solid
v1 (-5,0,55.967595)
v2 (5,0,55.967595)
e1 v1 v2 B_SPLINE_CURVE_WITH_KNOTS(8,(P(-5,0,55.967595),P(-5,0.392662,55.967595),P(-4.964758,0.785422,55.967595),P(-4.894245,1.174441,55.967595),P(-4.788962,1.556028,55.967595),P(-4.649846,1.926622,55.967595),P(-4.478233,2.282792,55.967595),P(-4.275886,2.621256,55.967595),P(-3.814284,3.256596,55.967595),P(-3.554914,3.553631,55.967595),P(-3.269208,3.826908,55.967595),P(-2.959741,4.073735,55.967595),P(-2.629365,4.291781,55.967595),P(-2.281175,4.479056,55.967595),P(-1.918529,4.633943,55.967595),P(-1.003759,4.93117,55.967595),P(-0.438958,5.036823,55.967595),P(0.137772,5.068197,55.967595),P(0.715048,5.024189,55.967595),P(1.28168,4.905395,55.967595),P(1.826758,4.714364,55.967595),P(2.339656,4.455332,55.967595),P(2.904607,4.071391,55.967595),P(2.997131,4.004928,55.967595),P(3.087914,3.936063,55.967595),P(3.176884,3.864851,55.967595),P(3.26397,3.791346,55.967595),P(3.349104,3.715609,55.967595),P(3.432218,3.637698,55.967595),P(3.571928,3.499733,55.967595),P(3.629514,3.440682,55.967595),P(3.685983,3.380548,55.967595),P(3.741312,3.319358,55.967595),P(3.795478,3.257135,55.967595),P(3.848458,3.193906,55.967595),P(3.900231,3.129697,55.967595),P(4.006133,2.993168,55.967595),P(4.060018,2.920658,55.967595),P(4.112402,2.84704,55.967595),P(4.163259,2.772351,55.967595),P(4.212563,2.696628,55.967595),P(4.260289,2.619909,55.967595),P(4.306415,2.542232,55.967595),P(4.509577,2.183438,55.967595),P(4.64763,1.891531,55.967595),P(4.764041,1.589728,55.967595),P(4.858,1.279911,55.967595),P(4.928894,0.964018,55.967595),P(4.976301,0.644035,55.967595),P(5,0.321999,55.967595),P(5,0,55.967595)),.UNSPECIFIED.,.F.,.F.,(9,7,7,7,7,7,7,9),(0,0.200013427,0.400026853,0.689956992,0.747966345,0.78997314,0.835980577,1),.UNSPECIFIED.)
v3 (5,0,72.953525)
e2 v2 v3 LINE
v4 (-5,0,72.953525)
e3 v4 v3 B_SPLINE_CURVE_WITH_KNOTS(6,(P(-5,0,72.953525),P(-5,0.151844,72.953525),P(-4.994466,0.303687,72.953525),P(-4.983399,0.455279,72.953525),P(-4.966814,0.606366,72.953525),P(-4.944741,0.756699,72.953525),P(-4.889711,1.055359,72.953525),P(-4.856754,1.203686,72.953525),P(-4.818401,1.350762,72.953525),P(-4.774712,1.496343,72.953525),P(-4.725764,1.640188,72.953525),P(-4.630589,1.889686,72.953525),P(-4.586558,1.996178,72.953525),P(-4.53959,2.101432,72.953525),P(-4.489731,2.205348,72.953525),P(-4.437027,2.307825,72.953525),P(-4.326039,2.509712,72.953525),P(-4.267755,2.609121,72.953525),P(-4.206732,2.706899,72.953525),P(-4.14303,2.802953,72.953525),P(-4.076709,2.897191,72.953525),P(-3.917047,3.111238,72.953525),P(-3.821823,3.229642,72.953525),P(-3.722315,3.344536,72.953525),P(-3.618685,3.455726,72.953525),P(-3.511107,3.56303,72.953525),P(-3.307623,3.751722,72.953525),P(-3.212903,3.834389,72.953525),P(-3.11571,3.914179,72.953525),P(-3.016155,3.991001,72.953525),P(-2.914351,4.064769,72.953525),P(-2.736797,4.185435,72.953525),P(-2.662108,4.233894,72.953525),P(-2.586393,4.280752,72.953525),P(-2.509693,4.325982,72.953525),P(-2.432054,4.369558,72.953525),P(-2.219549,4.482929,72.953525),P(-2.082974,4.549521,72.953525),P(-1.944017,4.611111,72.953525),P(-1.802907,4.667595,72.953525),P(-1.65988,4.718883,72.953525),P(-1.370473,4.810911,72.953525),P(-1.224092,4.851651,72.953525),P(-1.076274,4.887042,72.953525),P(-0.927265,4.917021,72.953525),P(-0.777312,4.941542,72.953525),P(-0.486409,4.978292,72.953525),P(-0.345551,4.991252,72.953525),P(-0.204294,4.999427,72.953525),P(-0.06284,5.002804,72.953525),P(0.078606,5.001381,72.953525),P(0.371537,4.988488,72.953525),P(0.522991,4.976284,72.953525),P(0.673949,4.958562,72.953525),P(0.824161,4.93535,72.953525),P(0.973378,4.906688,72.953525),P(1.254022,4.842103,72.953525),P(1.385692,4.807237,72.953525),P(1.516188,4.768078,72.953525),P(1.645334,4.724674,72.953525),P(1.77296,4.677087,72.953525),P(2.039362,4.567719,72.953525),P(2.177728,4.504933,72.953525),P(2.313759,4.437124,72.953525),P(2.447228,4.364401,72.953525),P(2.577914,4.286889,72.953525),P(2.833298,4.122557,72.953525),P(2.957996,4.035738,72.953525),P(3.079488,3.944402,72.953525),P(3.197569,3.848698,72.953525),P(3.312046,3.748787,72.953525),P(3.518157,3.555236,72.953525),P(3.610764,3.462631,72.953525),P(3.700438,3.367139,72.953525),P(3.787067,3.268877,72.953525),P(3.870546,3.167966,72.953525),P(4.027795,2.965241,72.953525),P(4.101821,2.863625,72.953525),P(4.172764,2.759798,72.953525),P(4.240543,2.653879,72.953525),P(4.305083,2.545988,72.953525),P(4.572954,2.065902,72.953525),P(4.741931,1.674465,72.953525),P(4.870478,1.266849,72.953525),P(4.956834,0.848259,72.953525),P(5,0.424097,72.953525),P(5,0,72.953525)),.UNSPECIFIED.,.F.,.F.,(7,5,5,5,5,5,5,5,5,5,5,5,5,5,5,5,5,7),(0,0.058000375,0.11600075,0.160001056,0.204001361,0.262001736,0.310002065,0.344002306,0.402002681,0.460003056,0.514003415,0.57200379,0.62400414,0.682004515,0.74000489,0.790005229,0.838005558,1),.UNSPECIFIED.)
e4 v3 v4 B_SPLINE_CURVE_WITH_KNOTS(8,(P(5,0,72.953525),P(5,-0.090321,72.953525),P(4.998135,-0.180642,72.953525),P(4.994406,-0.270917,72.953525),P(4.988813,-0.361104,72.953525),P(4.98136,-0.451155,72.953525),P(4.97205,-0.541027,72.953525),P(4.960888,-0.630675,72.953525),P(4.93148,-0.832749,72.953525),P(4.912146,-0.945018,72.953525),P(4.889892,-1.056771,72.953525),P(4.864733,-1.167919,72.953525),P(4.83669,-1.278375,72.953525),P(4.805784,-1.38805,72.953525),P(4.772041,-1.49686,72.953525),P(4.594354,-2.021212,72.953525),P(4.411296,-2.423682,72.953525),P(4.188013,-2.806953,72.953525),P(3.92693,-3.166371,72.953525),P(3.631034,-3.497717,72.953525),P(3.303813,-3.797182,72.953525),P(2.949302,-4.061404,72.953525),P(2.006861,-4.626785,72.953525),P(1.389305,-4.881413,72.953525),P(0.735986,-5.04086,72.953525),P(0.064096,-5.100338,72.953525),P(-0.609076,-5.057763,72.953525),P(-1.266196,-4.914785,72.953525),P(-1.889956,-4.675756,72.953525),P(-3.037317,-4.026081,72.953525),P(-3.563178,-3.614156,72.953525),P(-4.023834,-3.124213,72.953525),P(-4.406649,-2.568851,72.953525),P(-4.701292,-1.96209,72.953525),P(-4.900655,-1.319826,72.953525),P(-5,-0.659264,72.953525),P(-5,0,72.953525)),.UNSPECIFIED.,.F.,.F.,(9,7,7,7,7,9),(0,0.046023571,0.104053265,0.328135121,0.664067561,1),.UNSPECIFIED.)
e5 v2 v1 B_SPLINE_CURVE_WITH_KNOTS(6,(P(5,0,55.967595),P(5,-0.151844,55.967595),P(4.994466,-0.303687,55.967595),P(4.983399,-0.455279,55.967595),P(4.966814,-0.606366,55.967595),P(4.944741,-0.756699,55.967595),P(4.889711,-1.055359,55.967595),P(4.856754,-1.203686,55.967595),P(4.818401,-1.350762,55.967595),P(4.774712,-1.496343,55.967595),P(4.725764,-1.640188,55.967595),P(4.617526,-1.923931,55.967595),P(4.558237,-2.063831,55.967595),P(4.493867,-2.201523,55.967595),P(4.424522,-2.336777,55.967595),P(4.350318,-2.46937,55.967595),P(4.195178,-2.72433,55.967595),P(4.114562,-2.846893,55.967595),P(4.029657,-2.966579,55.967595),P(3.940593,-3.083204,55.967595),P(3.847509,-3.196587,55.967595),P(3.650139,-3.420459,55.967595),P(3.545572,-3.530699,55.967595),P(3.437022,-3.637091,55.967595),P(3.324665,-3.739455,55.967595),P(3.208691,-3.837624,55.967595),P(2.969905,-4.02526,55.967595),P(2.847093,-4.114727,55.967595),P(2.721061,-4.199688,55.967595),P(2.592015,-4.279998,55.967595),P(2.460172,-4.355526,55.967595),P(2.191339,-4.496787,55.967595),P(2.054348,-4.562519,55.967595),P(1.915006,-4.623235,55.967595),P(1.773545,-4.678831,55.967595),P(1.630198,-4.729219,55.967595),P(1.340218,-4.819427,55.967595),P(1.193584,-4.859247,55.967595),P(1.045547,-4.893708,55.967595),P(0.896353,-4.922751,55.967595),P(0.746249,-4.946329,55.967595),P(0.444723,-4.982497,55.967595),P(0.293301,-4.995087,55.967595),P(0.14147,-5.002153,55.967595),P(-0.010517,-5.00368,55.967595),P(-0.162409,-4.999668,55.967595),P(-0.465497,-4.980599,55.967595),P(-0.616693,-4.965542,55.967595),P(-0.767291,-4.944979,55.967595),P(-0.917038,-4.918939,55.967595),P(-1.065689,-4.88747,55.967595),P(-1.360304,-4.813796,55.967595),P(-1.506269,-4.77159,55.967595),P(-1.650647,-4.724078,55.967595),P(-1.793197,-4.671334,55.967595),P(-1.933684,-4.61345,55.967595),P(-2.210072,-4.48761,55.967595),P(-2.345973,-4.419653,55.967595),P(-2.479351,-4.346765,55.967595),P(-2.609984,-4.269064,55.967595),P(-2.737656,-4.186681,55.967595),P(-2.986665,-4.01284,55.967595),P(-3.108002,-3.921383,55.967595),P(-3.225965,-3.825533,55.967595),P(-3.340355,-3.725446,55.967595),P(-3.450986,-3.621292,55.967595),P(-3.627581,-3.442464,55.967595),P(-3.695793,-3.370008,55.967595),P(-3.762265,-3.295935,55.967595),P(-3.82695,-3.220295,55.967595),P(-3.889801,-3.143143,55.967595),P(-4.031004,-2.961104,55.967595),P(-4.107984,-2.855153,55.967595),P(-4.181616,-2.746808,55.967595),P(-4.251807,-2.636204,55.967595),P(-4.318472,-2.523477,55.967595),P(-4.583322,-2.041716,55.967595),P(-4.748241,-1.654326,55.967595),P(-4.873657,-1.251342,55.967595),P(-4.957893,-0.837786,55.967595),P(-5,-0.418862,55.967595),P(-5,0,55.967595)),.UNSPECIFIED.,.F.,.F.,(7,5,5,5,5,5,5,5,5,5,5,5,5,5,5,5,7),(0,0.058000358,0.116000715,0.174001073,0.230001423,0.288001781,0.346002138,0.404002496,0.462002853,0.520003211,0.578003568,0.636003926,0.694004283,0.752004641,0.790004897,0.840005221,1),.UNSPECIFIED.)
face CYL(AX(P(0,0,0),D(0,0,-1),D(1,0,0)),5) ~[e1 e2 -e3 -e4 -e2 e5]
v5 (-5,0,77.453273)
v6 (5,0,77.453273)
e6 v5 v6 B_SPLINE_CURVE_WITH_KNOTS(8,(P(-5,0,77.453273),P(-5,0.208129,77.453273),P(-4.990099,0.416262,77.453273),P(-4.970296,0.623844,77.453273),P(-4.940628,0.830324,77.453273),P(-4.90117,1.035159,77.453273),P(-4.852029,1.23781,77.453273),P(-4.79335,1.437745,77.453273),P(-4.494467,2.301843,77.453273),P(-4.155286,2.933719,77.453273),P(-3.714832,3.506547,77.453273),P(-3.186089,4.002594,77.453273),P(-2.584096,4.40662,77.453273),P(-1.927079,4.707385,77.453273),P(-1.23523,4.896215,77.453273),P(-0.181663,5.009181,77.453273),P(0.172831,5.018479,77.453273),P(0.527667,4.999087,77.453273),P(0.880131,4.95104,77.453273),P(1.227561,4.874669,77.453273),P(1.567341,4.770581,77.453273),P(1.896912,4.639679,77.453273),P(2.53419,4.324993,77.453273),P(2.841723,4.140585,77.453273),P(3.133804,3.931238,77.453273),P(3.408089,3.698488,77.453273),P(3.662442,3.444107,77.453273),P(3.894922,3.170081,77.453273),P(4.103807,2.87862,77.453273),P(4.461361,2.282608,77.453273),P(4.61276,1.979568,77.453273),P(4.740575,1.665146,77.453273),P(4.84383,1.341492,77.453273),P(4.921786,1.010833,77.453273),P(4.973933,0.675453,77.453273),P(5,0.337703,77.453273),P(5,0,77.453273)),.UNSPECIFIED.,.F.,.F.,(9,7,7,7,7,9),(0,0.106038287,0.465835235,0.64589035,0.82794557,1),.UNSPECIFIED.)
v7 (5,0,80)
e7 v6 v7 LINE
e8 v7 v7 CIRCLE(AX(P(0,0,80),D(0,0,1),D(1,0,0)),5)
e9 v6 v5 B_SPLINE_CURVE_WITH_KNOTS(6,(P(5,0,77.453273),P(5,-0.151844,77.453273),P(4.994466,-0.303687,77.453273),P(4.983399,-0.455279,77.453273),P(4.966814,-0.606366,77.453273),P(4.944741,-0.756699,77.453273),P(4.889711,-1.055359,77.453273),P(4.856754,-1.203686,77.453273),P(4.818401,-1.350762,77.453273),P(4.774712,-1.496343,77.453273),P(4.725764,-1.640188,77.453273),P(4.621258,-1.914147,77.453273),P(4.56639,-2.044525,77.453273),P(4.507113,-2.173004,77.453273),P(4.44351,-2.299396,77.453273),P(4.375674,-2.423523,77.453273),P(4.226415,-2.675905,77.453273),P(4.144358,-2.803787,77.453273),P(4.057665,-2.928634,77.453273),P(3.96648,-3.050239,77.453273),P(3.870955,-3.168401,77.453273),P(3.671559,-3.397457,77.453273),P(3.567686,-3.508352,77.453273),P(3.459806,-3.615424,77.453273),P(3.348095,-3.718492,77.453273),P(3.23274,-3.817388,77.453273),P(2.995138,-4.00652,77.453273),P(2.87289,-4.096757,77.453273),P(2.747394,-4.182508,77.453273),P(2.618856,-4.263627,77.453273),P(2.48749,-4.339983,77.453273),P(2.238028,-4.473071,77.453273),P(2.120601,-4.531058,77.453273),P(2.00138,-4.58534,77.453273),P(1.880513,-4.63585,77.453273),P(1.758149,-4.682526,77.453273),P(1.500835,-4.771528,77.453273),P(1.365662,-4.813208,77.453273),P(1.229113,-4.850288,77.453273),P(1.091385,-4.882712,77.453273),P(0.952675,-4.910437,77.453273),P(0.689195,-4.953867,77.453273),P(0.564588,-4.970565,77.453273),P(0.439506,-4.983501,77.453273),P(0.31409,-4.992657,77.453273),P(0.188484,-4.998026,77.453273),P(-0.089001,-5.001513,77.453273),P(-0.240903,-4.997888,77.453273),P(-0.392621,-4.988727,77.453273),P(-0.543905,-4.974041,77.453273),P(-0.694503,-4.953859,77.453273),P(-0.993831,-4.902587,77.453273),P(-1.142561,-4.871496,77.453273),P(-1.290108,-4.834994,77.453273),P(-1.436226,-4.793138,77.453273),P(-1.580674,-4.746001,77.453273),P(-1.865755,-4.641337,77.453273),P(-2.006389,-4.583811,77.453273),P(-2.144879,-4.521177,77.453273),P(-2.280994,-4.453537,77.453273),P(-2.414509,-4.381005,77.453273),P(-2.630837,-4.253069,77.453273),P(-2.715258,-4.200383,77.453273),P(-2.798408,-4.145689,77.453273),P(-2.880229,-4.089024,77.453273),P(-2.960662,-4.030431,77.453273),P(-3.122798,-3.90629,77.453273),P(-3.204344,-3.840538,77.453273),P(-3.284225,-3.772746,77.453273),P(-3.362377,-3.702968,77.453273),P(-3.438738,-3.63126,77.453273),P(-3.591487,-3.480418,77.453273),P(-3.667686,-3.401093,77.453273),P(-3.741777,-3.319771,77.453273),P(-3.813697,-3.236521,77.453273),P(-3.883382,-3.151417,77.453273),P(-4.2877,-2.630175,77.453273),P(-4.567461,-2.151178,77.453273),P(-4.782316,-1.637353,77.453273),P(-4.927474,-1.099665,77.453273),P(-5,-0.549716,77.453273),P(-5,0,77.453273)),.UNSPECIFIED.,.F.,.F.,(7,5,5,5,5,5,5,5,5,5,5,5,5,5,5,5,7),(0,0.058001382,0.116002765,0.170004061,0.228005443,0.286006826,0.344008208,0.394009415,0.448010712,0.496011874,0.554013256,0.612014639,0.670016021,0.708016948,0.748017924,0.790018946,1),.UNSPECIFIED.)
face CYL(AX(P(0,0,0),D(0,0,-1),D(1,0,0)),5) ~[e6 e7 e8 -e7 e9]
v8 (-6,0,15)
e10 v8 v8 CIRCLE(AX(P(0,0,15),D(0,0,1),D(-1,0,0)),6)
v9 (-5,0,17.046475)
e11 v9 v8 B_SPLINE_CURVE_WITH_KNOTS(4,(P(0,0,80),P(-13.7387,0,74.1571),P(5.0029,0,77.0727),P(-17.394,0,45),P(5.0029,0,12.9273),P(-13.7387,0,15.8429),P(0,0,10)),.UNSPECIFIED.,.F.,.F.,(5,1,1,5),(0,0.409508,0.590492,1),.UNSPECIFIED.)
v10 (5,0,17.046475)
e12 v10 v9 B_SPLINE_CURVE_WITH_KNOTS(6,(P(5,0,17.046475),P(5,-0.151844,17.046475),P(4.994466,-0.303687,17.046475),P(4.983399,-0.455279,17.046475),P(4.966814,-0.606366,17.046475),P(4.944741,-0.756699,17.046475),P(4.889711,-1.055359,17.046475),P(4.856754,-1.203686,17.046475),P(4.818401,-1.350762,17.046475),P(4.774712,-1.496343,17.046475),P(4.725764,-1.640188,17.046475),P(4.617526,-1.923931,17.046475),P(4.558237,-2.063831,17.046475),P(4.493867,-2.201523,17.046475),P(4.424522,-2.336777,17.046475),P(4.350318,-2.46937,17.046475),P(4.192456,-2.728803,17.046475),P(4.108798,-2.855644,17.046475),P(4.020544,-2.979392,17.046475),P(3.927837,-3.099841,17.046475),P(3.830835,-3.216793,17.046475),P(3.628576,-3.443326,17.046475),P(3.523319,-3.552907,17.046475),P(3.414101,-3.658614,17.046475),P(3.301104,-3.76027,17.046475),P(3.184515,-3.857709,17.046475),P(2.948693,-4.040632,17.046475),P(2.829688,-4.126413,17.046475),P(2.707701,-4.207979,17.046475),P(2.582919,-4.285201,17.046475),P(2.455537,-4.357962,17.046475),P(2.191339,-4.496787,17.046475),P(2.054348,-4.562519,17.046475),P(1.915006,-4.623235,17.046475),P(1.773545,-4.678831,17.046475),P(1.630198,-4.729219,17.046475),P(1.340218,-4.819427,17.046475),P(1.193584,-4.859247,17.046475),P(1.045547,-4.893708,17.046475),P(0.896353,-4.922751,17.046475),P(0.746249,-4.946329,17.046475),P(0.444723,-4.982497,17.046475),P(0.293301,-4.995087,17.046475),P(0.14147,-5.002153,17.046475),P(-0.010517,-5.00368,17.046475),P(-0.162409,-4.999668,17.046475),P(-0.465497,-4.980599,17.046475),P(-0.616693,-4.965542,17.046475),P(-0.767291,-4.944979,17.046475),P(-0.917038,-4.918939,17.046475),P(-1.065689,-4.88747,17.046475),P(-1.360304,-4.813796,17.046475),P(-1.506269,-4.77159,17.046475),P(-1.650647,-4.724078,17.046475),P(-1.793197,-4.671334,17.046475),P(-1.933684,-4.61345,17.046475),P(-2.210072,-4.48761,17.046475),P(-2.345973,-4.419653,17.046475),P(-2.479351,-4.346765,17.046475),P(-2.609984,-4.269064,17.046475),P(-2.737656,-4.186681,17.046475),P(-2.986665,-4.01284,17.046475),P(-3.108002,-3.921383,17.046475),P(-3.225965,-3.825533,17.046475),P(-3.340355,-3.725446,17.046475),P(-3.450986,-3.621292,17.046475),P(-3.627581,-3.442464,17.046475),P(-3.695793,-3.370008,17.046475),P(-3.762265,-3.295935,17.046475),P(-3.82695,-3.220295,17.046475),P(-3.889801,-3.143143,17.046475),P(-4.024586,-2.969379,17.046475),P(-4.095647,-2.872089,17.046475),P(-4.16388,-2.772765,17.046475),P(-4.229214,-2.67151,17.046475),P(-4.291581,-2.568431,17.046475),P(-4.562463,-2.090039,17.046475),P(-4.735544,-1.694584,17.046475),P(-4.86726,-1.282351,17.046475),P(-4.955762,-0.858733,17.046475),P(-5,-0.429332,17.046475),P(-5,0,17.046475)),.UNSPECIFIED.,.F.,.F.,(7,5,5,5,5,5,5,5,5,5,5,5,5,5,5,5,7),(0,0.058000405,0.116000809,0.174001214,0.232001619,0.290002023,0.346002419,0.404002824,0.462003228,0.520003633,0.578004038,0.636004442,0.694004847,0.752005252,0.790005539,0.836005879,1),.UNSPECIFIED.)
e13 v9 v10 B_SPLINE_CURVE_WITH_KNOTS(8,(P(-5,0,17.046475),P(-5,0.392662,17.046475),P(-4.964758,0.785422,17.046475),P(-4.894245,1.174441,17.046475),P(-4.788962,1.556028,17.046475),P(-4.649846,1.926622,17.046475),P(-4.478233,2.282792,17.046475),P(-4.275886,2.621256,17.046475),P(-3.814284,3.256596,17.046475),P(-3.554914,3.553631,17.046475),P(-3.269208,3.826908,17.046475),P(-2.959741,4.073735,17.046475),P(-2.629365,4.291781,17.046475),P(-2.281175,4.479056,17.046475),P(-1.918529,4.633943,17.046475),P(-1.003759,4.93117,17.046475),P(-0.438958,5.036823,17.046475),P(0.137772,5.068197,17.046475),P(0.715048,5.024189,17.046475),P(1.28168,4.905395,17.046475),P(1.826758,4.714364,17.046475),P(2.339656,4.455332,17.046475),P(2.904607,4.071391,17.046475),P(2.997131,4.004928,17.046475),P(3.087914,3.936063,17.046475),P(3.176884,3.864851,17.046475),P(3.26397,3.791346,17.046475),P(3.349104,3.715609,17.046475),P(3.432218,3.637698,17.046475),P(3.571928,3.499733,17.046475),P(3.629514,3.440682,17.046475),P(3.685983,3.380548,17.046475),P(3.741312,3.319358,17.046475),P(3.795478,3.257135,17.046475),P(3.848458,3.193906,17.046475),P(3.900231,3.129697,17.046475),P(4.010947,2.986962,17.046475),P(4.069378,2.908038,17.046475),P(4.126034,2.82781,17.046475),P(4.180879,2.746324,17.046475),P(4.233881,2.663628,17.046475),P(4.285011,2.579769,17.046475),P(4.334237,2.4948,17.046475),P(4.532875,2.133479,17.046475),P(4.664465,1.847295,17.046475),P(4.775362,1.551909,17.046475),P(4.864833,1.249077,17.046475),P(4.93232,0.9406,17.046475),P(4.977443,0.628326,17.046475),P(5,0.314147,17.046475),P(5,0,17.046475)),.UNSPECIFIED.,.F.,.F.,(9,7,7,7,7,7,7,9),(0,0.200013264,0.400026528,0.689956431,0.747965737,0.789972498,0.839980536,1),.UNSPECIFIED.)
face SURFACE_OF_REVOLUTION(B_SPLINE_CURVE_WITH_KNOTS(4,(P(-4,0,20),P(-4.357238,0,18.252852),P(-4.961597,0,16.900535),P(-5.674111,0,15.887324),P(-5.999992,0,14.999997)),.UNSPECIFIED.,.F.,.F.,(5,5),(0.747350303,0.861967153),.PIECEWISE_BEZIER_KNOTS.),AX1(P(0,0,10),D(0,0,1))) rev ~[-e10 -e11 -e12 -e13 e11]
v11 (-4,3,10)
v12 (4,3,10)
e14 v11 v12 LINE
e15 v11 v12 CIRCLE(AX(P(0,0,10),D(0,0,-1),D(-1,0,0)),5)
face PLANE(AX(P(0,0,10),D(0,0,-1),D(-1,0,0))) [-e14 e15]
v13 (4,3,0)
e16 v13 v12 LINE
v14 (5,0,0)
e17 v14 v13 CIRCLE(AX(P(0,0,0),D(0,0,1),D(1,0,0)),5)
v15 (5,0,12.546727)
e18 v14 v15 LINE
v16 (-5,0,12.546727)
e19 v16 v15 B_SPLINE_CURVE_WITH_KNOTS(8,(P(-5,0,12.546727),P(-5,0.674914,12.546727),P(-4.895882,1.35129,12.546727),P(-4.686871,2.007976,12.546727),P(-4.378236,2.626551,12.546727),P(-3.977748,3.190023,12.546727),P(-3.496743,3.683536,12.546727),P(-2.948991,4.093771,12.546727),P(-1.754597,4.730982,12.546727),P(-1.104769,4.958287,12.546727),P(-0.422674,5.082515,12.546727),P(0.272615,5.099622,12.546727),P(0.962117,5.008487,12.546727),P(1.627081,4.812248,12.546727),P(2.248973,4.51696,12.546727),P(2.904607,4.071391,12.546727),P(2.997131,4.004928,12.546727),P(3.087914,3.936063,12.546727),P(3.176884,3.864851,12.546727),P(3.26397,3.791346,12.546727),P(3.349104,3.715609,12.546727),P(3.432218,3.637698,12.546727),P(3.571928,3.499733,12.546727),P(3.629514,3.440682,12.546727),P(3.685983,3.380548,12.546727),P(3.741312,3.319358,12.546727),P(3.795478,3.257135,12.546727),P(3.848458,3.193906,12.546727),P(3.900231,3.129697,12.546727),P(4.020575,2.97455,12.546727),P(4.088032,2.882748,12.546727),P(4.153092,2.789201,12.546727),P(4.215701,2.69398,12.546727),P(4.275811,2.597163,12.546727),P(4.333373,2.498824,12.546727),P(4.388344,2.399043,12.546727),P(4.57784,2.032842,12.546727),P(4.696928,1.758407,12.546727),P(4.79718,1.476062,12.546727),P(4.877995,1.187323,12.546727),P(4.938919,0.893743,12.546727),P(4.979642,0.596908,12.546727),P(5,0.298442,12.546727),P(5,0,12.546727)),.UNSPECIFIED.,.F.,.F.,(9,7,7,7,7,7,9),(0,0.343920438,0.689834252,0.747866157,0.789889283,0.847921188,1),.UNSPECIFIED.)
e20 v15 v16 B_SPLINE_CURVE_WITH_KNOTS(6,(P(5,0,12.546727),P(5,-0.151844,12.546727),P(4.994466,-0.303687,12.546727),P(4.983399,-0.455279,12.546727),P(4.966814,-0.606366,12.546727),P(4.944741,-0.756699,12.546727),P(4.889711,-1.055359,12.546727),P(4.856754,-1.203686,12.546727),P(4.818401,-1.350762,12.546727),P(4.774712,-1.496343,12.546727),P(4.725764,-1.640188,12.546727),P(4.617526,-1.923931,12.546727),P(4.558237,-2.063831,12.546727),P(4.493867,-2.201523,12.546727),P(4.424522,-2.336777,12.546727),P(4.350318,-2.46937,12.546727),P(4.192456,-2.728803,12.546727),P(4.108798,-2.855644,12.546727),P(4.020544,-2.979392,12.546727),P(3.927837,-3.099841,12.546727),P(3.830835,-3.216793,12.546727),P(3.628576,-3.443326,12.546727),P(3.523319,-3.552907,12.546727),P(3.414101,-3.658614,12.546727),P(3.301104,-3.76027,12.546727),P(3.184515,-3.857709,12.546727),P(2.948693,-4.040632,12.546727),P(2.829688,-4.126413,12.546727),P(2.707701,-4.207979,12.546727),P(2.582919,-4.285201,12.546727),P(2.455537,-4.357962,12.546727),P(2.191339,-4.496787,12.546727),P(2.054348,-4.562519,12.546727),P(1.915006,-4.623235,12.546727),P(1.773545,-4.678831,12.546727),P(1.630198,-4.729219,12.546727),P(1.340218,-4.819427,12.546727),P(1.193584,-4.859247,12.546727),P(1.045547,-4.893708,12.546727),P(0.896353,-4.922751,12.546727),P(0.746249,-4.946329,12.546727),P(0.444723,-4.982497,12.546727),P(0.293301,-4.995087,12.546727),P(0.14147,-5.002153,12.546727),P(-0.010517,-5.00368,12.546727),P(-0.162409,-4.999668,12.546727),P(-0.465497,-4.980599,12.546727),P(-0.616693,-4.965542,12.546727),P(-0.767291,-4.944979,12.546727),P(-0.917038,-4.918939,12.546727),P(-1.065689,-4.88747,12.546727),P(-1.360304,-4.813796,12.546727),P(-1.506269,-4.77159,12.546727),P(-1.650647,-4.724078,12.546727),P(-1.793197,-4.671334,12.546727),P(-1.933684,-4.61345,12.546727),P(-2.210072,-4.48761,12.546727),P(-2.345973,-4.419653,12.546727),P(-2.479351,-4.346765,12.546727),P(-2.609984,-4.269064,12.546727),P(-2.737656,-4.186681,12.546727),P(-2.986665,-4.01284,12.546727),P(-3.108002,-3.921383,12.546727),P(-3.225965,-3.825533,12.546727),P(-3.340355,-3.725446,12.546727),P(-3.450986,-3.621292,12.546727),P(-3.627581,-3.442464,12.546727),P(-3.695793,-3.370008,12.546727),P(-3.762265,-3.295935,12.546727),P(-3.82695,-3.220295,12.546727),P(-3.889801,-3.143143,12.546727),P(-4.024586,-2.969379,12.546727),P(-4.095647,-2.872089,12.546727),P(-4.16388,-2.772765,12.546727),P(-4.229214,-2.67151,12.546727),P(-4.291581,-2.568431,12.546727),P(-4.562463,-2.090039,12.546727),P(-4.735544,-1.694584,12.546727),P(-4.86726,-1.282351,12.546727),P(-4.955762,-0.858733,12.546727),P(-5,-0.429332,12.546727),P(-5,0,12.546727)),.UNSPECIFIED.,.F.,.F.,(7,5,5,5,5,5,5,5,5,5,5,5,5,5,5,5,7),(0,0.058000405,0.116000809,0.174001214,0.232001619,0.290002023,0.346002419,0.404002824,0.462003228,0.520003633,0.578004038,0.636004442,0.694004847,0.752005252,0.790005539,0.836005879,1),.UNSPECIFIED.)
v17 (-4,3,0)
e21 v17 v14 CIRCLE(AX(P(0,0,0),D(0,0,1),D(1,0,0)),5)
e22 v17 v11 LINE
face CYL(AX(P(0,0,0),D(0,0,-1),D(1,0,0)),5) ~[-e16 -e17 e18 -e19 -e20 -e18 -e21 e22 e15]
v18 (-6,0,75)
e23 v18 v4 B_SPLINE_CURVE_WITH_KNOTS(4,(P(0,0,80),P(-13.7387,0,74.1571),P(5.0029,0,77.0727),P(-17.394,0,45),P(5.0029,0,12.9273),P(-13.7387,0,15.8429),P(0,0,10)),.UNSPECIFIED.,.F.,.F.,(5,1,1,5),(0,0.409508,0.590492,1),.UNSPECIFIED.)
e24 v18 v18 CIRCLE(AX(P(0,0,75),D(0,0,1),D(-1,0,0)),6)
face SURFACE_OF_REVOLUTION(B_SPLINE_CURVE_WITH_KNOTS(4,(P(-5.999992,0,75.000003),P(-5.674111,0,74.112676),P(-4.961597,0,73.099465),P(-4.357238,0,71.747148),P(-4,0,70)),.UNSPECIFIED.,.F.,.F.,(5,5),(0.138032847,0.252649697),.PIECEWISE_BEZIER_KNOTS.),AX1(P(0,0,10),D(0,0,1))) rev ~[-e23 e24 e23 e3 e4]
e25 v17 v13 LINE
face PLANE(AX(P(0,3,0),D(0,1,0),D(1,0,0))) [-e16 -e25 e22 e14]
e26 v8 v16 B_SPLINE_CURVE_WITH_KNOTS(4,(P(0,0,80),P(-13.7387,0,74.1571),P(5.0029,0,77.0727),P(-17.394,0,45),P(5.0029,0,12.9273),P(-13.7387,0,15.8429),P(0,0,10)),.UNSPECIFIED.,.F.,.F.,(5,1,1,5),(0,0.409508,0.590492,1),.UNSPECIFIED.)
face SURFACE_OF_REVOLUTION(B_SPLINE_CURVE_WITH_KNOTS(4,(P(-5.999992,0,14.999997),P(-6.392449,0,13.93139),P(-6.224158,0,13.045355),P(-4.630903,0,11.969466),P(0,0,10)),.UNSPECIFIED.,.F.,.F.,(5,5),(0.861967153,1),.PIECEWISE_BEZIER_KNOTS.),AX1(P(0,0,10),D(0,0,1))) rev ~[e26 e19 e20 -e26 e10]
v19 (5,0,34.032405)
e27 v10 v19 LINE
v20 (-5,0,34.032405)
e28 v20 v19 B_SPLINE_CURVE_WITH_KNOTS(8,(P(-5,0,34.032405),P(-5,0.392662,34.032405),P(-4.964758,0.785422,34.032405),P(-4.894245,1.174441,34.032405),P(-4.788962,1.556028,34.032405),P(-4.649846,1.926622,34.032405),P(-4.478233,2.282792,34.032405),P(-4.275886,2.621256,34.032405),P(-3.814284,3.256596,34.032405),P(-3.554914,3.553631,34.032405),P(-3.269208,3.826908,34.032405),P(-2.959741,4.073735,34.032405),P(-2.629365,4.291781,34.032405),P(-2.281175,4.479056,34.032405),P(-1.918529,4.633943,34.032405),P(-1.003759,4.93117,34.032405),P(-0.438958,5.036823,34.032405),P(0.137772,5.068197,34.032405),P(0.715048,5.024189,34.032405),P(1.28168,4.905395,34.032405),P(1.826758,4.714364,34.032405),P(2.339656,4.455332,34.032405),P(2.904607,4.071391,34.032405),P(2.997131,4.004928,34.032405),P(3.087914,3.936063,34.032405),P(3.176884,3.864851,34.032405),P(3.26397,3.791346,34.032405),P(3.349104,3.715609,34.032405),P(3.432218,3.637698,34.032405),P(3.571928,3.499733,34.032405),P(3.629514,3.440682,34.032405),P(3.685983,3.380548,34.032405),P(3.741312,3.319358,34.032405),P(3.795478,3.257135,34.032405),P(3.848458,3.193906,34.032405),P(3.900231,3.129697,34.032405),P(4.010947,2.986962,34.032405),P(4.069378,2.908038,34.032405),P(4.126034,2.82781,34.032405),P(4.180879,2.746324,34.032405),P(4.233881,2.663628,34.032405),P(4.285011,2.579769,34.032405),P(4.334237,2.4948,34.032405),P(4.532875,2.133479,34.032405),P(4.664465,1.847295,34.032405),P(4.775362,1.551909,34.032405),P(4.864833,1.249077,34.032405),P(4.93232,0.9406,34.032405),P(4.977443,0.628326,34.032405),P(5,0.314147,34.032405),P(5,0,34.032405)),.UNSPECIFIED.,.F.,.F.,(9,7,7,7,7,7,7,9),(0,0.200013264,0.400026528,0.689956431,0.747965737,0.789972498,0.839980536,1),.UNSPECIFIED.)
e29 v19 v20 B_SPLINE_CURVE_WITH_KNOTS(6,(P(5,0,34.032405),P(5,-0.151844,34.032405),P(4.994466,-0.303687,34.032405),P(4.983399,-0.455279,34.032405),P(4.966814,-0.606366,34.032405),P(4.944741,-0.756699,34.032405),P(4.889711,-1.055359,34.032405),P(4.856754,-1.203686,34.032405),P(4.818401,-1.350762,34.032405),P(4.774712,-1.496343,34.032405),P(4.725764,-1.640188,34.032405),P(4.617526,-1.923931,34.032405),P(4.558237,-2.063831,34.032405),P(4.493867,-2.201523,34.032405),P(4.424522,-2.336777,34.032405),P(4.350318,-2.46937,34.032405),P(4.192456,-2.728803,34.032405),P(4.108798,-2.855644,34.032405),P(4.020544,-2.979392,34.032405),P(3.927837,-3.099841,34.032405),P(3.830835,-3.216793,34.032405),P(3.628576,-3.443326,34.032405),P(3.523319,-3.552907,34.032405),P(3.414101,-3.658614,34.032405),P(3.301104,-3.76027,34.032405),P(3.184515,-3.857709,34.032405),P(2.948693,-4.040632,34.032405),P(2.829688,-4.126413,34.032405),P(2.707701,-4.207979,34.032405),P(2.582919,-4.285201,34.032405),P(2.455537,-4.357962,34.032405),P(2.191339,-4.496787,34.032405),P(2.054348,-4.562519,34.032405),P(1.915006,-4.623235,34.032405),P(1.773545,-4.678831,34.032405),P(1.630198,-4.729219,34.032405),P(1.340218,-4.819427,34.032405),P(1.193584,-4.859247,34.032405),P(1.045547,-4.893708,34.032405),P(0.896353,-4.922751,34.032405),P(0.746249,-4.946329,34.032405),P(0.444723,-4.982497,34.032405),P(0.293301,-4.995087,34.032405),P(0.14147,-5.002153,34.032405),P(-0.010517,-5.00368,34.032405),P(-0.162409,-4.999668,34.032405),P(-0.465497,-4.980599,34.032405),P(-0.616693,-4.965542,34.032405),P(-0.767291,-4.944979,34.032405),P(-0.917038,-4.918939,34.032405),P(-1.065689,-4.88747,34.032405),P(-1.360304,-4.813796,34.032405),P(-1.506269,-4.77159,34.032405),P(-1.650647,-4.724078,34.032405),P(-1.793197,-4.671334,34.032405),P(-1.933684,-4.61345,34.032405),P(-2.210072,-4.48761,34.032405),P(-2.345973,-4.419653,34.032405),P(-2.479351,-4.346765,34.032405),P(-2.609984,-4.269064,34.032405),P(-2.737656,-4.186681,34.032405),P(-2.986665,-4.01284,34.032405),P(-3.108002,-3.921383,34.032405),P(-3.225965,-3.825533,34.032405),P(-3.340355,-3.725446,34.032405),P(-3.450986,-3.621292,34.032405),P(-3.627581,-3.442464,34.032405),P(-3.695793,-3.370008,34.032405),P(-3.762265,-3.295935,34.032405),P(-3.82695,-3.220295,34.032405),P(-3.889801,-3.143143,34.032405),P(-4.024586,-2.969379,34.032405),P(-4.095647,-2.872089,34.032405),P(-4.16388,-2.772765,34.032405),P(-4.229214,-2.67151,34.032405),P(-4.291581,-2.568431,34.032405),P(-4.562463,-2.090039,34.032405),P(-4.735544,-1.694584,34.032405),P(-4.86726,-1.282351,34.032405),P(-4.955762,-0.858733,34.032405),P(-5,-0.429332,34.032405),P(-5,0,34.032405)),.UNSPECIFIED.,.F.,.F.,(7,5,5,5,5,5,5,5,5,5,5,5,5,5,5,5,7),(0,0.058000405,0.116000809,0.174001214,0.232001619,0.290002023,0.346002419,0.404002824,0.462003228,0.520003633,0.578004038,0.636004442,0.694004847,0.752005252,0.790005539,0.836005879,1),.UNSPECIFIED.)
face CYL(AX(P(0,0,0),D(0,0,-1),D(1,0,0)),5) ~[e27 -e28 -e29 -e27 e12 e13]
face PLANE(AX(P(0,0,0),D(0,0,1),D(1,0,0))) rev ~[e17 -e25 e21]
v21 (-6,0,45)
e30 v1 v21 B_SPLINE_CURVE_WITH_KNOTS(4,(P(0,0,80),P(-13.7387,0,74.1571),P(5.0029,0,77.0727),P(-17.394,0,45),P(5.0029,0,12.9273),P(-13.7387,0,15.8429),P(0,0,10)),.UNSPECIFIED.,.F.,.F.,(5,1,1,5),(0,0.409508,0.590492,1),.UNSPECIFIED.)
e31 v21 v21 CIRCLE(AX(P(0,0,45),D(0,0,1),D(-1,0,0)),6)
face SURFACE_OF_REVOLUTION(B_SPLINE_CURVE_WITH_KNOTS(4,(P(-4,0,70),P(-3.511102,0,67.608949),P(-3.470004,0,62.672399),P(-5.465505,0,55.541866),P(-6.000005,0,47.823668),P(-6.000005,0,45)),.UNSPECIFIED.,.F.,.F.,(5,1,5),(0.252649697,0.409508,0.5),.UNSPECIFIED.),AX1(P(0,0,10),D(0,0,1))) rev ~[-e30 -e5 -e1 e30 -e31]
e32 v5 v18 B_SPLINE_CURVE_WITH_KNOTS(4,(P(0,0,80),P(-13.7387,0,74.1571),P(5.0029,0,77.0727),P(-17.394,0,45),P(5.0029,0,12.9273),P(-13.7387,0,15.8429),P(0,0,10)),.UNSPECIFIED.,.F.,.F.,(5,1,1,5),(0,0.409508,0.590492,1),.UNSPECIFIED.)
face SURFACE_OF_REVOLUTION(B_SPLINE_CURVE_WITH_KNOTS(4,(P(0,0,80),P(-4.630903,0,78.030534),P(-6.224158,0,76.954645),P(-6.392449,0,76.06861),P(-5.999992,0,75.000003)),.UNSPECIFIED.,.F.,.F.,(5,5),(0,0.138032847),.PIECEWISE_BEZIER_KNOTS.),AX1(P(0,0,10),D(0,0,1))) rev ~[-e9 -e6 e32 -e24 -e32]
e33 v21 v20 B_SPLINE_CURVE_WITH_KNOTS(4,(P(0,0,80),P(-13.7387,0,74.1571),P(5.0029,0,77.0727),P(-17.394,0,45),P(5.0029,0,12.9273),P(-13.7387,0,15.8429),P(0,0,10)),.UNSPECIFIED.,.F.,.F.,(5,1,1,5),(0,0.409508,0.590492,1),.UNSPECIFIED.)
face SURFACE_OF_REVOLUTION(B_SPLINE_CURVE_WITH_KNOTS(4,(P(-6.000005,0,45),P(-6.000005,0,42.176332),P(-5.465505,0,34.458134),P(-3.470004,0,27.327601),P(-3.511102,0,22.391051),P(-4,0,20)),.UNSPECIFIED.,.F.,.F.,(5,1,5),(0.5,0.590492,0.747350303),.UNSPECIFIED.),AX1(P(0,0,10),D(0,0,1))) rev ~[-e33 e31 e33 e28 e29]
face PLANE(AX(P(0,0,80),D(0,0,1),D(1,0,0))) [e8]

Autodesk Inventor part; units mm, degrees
ref_plane "YZ Plane" through (0, 0, 0) normal (1, 0, 0) x (0, 1, 0)
ref_plane "XY Plane" through (0, 0, 0) normal (0, 0, 1) x (1, 0, 0)
sketch "Эскиз1" plane through (0, 0, 0) normal (0, 0, 1) x (1, 0, 0)
  circle A0 centre (0, 0) radius 5
  dimension "d0" = 10
extrude "Выдавливание1" add sketch "Эскиз1" along normal blind 80
sketch "Эскиз2" plane through (0, 0, 0) normal (0, 0, -1) x (-1, 0, 0)
  line L0 (0, 0) -> (0, 3)
  line L1 (0, 3) -> (-4, 3)
  circle A0 centre (0, 0) radius 5 projected
  line L2 (4, 3) -> (0, 3)
extrude "Выдавливание2" cut sketch "Эскиз2" against normal blind 10 contours L1 A0 L2 picked at (-2.4012, 3.2796)
ref_plane "РабПлоскость1" through (0, 0, 0) normal (0, 1, 0) x (-1, 0, 0)
sketch "Эскиз3" plane through (0, 0, 0) normal (0, 1, 0) x (-1, 0, 0)
  line L0 (0, 10) -> (0, 80)
  line L1 (5, 80) -> (-5, 80) projected
  line L2 (0, 10) -> (0, 15)
  line L3 (0, 15) -> (6, 15)
  line L4 (0, 15) -> (0, 20)
  line L5 (0, 20) -> (4, 20)
  line L6 (0, 20) -> (0, 45)
  line L7 (0, 45) -> (0, 70)
  line L8 (0, 70) -> (4, 70)
  line L9 (0, 70) -> (0, 75)
  line L10 (0, 75) -> (6, 75)
  line L11 (0, 45) -> (6, 45)
  spline S0 degree 4 poles (0, 80) (13.7387, 74.1571) (-5.0029, 77.0727) (17.394, 45) (-5.0029, 12.9273) (13.7387, 15.8429) (0, 10) knots 0 0 0 0 0 0.409508 0.590492 1 1 1 1 1
  point P0 (0, 0)
  dimension "d7" = 5
  dimension "d8" = 6
  dimension "d9" = 5
  dimension "d10" = 4
  dimension "d11" = 25
  dimension "d12" = 25
  dimension "d13" = 4
revolve "Вращение1" add sketch "Эскиз3" angle 360 about axis through (0, 0, 10) along (0, 0, 1)
properties part number "Рукаядь рукоядки"
